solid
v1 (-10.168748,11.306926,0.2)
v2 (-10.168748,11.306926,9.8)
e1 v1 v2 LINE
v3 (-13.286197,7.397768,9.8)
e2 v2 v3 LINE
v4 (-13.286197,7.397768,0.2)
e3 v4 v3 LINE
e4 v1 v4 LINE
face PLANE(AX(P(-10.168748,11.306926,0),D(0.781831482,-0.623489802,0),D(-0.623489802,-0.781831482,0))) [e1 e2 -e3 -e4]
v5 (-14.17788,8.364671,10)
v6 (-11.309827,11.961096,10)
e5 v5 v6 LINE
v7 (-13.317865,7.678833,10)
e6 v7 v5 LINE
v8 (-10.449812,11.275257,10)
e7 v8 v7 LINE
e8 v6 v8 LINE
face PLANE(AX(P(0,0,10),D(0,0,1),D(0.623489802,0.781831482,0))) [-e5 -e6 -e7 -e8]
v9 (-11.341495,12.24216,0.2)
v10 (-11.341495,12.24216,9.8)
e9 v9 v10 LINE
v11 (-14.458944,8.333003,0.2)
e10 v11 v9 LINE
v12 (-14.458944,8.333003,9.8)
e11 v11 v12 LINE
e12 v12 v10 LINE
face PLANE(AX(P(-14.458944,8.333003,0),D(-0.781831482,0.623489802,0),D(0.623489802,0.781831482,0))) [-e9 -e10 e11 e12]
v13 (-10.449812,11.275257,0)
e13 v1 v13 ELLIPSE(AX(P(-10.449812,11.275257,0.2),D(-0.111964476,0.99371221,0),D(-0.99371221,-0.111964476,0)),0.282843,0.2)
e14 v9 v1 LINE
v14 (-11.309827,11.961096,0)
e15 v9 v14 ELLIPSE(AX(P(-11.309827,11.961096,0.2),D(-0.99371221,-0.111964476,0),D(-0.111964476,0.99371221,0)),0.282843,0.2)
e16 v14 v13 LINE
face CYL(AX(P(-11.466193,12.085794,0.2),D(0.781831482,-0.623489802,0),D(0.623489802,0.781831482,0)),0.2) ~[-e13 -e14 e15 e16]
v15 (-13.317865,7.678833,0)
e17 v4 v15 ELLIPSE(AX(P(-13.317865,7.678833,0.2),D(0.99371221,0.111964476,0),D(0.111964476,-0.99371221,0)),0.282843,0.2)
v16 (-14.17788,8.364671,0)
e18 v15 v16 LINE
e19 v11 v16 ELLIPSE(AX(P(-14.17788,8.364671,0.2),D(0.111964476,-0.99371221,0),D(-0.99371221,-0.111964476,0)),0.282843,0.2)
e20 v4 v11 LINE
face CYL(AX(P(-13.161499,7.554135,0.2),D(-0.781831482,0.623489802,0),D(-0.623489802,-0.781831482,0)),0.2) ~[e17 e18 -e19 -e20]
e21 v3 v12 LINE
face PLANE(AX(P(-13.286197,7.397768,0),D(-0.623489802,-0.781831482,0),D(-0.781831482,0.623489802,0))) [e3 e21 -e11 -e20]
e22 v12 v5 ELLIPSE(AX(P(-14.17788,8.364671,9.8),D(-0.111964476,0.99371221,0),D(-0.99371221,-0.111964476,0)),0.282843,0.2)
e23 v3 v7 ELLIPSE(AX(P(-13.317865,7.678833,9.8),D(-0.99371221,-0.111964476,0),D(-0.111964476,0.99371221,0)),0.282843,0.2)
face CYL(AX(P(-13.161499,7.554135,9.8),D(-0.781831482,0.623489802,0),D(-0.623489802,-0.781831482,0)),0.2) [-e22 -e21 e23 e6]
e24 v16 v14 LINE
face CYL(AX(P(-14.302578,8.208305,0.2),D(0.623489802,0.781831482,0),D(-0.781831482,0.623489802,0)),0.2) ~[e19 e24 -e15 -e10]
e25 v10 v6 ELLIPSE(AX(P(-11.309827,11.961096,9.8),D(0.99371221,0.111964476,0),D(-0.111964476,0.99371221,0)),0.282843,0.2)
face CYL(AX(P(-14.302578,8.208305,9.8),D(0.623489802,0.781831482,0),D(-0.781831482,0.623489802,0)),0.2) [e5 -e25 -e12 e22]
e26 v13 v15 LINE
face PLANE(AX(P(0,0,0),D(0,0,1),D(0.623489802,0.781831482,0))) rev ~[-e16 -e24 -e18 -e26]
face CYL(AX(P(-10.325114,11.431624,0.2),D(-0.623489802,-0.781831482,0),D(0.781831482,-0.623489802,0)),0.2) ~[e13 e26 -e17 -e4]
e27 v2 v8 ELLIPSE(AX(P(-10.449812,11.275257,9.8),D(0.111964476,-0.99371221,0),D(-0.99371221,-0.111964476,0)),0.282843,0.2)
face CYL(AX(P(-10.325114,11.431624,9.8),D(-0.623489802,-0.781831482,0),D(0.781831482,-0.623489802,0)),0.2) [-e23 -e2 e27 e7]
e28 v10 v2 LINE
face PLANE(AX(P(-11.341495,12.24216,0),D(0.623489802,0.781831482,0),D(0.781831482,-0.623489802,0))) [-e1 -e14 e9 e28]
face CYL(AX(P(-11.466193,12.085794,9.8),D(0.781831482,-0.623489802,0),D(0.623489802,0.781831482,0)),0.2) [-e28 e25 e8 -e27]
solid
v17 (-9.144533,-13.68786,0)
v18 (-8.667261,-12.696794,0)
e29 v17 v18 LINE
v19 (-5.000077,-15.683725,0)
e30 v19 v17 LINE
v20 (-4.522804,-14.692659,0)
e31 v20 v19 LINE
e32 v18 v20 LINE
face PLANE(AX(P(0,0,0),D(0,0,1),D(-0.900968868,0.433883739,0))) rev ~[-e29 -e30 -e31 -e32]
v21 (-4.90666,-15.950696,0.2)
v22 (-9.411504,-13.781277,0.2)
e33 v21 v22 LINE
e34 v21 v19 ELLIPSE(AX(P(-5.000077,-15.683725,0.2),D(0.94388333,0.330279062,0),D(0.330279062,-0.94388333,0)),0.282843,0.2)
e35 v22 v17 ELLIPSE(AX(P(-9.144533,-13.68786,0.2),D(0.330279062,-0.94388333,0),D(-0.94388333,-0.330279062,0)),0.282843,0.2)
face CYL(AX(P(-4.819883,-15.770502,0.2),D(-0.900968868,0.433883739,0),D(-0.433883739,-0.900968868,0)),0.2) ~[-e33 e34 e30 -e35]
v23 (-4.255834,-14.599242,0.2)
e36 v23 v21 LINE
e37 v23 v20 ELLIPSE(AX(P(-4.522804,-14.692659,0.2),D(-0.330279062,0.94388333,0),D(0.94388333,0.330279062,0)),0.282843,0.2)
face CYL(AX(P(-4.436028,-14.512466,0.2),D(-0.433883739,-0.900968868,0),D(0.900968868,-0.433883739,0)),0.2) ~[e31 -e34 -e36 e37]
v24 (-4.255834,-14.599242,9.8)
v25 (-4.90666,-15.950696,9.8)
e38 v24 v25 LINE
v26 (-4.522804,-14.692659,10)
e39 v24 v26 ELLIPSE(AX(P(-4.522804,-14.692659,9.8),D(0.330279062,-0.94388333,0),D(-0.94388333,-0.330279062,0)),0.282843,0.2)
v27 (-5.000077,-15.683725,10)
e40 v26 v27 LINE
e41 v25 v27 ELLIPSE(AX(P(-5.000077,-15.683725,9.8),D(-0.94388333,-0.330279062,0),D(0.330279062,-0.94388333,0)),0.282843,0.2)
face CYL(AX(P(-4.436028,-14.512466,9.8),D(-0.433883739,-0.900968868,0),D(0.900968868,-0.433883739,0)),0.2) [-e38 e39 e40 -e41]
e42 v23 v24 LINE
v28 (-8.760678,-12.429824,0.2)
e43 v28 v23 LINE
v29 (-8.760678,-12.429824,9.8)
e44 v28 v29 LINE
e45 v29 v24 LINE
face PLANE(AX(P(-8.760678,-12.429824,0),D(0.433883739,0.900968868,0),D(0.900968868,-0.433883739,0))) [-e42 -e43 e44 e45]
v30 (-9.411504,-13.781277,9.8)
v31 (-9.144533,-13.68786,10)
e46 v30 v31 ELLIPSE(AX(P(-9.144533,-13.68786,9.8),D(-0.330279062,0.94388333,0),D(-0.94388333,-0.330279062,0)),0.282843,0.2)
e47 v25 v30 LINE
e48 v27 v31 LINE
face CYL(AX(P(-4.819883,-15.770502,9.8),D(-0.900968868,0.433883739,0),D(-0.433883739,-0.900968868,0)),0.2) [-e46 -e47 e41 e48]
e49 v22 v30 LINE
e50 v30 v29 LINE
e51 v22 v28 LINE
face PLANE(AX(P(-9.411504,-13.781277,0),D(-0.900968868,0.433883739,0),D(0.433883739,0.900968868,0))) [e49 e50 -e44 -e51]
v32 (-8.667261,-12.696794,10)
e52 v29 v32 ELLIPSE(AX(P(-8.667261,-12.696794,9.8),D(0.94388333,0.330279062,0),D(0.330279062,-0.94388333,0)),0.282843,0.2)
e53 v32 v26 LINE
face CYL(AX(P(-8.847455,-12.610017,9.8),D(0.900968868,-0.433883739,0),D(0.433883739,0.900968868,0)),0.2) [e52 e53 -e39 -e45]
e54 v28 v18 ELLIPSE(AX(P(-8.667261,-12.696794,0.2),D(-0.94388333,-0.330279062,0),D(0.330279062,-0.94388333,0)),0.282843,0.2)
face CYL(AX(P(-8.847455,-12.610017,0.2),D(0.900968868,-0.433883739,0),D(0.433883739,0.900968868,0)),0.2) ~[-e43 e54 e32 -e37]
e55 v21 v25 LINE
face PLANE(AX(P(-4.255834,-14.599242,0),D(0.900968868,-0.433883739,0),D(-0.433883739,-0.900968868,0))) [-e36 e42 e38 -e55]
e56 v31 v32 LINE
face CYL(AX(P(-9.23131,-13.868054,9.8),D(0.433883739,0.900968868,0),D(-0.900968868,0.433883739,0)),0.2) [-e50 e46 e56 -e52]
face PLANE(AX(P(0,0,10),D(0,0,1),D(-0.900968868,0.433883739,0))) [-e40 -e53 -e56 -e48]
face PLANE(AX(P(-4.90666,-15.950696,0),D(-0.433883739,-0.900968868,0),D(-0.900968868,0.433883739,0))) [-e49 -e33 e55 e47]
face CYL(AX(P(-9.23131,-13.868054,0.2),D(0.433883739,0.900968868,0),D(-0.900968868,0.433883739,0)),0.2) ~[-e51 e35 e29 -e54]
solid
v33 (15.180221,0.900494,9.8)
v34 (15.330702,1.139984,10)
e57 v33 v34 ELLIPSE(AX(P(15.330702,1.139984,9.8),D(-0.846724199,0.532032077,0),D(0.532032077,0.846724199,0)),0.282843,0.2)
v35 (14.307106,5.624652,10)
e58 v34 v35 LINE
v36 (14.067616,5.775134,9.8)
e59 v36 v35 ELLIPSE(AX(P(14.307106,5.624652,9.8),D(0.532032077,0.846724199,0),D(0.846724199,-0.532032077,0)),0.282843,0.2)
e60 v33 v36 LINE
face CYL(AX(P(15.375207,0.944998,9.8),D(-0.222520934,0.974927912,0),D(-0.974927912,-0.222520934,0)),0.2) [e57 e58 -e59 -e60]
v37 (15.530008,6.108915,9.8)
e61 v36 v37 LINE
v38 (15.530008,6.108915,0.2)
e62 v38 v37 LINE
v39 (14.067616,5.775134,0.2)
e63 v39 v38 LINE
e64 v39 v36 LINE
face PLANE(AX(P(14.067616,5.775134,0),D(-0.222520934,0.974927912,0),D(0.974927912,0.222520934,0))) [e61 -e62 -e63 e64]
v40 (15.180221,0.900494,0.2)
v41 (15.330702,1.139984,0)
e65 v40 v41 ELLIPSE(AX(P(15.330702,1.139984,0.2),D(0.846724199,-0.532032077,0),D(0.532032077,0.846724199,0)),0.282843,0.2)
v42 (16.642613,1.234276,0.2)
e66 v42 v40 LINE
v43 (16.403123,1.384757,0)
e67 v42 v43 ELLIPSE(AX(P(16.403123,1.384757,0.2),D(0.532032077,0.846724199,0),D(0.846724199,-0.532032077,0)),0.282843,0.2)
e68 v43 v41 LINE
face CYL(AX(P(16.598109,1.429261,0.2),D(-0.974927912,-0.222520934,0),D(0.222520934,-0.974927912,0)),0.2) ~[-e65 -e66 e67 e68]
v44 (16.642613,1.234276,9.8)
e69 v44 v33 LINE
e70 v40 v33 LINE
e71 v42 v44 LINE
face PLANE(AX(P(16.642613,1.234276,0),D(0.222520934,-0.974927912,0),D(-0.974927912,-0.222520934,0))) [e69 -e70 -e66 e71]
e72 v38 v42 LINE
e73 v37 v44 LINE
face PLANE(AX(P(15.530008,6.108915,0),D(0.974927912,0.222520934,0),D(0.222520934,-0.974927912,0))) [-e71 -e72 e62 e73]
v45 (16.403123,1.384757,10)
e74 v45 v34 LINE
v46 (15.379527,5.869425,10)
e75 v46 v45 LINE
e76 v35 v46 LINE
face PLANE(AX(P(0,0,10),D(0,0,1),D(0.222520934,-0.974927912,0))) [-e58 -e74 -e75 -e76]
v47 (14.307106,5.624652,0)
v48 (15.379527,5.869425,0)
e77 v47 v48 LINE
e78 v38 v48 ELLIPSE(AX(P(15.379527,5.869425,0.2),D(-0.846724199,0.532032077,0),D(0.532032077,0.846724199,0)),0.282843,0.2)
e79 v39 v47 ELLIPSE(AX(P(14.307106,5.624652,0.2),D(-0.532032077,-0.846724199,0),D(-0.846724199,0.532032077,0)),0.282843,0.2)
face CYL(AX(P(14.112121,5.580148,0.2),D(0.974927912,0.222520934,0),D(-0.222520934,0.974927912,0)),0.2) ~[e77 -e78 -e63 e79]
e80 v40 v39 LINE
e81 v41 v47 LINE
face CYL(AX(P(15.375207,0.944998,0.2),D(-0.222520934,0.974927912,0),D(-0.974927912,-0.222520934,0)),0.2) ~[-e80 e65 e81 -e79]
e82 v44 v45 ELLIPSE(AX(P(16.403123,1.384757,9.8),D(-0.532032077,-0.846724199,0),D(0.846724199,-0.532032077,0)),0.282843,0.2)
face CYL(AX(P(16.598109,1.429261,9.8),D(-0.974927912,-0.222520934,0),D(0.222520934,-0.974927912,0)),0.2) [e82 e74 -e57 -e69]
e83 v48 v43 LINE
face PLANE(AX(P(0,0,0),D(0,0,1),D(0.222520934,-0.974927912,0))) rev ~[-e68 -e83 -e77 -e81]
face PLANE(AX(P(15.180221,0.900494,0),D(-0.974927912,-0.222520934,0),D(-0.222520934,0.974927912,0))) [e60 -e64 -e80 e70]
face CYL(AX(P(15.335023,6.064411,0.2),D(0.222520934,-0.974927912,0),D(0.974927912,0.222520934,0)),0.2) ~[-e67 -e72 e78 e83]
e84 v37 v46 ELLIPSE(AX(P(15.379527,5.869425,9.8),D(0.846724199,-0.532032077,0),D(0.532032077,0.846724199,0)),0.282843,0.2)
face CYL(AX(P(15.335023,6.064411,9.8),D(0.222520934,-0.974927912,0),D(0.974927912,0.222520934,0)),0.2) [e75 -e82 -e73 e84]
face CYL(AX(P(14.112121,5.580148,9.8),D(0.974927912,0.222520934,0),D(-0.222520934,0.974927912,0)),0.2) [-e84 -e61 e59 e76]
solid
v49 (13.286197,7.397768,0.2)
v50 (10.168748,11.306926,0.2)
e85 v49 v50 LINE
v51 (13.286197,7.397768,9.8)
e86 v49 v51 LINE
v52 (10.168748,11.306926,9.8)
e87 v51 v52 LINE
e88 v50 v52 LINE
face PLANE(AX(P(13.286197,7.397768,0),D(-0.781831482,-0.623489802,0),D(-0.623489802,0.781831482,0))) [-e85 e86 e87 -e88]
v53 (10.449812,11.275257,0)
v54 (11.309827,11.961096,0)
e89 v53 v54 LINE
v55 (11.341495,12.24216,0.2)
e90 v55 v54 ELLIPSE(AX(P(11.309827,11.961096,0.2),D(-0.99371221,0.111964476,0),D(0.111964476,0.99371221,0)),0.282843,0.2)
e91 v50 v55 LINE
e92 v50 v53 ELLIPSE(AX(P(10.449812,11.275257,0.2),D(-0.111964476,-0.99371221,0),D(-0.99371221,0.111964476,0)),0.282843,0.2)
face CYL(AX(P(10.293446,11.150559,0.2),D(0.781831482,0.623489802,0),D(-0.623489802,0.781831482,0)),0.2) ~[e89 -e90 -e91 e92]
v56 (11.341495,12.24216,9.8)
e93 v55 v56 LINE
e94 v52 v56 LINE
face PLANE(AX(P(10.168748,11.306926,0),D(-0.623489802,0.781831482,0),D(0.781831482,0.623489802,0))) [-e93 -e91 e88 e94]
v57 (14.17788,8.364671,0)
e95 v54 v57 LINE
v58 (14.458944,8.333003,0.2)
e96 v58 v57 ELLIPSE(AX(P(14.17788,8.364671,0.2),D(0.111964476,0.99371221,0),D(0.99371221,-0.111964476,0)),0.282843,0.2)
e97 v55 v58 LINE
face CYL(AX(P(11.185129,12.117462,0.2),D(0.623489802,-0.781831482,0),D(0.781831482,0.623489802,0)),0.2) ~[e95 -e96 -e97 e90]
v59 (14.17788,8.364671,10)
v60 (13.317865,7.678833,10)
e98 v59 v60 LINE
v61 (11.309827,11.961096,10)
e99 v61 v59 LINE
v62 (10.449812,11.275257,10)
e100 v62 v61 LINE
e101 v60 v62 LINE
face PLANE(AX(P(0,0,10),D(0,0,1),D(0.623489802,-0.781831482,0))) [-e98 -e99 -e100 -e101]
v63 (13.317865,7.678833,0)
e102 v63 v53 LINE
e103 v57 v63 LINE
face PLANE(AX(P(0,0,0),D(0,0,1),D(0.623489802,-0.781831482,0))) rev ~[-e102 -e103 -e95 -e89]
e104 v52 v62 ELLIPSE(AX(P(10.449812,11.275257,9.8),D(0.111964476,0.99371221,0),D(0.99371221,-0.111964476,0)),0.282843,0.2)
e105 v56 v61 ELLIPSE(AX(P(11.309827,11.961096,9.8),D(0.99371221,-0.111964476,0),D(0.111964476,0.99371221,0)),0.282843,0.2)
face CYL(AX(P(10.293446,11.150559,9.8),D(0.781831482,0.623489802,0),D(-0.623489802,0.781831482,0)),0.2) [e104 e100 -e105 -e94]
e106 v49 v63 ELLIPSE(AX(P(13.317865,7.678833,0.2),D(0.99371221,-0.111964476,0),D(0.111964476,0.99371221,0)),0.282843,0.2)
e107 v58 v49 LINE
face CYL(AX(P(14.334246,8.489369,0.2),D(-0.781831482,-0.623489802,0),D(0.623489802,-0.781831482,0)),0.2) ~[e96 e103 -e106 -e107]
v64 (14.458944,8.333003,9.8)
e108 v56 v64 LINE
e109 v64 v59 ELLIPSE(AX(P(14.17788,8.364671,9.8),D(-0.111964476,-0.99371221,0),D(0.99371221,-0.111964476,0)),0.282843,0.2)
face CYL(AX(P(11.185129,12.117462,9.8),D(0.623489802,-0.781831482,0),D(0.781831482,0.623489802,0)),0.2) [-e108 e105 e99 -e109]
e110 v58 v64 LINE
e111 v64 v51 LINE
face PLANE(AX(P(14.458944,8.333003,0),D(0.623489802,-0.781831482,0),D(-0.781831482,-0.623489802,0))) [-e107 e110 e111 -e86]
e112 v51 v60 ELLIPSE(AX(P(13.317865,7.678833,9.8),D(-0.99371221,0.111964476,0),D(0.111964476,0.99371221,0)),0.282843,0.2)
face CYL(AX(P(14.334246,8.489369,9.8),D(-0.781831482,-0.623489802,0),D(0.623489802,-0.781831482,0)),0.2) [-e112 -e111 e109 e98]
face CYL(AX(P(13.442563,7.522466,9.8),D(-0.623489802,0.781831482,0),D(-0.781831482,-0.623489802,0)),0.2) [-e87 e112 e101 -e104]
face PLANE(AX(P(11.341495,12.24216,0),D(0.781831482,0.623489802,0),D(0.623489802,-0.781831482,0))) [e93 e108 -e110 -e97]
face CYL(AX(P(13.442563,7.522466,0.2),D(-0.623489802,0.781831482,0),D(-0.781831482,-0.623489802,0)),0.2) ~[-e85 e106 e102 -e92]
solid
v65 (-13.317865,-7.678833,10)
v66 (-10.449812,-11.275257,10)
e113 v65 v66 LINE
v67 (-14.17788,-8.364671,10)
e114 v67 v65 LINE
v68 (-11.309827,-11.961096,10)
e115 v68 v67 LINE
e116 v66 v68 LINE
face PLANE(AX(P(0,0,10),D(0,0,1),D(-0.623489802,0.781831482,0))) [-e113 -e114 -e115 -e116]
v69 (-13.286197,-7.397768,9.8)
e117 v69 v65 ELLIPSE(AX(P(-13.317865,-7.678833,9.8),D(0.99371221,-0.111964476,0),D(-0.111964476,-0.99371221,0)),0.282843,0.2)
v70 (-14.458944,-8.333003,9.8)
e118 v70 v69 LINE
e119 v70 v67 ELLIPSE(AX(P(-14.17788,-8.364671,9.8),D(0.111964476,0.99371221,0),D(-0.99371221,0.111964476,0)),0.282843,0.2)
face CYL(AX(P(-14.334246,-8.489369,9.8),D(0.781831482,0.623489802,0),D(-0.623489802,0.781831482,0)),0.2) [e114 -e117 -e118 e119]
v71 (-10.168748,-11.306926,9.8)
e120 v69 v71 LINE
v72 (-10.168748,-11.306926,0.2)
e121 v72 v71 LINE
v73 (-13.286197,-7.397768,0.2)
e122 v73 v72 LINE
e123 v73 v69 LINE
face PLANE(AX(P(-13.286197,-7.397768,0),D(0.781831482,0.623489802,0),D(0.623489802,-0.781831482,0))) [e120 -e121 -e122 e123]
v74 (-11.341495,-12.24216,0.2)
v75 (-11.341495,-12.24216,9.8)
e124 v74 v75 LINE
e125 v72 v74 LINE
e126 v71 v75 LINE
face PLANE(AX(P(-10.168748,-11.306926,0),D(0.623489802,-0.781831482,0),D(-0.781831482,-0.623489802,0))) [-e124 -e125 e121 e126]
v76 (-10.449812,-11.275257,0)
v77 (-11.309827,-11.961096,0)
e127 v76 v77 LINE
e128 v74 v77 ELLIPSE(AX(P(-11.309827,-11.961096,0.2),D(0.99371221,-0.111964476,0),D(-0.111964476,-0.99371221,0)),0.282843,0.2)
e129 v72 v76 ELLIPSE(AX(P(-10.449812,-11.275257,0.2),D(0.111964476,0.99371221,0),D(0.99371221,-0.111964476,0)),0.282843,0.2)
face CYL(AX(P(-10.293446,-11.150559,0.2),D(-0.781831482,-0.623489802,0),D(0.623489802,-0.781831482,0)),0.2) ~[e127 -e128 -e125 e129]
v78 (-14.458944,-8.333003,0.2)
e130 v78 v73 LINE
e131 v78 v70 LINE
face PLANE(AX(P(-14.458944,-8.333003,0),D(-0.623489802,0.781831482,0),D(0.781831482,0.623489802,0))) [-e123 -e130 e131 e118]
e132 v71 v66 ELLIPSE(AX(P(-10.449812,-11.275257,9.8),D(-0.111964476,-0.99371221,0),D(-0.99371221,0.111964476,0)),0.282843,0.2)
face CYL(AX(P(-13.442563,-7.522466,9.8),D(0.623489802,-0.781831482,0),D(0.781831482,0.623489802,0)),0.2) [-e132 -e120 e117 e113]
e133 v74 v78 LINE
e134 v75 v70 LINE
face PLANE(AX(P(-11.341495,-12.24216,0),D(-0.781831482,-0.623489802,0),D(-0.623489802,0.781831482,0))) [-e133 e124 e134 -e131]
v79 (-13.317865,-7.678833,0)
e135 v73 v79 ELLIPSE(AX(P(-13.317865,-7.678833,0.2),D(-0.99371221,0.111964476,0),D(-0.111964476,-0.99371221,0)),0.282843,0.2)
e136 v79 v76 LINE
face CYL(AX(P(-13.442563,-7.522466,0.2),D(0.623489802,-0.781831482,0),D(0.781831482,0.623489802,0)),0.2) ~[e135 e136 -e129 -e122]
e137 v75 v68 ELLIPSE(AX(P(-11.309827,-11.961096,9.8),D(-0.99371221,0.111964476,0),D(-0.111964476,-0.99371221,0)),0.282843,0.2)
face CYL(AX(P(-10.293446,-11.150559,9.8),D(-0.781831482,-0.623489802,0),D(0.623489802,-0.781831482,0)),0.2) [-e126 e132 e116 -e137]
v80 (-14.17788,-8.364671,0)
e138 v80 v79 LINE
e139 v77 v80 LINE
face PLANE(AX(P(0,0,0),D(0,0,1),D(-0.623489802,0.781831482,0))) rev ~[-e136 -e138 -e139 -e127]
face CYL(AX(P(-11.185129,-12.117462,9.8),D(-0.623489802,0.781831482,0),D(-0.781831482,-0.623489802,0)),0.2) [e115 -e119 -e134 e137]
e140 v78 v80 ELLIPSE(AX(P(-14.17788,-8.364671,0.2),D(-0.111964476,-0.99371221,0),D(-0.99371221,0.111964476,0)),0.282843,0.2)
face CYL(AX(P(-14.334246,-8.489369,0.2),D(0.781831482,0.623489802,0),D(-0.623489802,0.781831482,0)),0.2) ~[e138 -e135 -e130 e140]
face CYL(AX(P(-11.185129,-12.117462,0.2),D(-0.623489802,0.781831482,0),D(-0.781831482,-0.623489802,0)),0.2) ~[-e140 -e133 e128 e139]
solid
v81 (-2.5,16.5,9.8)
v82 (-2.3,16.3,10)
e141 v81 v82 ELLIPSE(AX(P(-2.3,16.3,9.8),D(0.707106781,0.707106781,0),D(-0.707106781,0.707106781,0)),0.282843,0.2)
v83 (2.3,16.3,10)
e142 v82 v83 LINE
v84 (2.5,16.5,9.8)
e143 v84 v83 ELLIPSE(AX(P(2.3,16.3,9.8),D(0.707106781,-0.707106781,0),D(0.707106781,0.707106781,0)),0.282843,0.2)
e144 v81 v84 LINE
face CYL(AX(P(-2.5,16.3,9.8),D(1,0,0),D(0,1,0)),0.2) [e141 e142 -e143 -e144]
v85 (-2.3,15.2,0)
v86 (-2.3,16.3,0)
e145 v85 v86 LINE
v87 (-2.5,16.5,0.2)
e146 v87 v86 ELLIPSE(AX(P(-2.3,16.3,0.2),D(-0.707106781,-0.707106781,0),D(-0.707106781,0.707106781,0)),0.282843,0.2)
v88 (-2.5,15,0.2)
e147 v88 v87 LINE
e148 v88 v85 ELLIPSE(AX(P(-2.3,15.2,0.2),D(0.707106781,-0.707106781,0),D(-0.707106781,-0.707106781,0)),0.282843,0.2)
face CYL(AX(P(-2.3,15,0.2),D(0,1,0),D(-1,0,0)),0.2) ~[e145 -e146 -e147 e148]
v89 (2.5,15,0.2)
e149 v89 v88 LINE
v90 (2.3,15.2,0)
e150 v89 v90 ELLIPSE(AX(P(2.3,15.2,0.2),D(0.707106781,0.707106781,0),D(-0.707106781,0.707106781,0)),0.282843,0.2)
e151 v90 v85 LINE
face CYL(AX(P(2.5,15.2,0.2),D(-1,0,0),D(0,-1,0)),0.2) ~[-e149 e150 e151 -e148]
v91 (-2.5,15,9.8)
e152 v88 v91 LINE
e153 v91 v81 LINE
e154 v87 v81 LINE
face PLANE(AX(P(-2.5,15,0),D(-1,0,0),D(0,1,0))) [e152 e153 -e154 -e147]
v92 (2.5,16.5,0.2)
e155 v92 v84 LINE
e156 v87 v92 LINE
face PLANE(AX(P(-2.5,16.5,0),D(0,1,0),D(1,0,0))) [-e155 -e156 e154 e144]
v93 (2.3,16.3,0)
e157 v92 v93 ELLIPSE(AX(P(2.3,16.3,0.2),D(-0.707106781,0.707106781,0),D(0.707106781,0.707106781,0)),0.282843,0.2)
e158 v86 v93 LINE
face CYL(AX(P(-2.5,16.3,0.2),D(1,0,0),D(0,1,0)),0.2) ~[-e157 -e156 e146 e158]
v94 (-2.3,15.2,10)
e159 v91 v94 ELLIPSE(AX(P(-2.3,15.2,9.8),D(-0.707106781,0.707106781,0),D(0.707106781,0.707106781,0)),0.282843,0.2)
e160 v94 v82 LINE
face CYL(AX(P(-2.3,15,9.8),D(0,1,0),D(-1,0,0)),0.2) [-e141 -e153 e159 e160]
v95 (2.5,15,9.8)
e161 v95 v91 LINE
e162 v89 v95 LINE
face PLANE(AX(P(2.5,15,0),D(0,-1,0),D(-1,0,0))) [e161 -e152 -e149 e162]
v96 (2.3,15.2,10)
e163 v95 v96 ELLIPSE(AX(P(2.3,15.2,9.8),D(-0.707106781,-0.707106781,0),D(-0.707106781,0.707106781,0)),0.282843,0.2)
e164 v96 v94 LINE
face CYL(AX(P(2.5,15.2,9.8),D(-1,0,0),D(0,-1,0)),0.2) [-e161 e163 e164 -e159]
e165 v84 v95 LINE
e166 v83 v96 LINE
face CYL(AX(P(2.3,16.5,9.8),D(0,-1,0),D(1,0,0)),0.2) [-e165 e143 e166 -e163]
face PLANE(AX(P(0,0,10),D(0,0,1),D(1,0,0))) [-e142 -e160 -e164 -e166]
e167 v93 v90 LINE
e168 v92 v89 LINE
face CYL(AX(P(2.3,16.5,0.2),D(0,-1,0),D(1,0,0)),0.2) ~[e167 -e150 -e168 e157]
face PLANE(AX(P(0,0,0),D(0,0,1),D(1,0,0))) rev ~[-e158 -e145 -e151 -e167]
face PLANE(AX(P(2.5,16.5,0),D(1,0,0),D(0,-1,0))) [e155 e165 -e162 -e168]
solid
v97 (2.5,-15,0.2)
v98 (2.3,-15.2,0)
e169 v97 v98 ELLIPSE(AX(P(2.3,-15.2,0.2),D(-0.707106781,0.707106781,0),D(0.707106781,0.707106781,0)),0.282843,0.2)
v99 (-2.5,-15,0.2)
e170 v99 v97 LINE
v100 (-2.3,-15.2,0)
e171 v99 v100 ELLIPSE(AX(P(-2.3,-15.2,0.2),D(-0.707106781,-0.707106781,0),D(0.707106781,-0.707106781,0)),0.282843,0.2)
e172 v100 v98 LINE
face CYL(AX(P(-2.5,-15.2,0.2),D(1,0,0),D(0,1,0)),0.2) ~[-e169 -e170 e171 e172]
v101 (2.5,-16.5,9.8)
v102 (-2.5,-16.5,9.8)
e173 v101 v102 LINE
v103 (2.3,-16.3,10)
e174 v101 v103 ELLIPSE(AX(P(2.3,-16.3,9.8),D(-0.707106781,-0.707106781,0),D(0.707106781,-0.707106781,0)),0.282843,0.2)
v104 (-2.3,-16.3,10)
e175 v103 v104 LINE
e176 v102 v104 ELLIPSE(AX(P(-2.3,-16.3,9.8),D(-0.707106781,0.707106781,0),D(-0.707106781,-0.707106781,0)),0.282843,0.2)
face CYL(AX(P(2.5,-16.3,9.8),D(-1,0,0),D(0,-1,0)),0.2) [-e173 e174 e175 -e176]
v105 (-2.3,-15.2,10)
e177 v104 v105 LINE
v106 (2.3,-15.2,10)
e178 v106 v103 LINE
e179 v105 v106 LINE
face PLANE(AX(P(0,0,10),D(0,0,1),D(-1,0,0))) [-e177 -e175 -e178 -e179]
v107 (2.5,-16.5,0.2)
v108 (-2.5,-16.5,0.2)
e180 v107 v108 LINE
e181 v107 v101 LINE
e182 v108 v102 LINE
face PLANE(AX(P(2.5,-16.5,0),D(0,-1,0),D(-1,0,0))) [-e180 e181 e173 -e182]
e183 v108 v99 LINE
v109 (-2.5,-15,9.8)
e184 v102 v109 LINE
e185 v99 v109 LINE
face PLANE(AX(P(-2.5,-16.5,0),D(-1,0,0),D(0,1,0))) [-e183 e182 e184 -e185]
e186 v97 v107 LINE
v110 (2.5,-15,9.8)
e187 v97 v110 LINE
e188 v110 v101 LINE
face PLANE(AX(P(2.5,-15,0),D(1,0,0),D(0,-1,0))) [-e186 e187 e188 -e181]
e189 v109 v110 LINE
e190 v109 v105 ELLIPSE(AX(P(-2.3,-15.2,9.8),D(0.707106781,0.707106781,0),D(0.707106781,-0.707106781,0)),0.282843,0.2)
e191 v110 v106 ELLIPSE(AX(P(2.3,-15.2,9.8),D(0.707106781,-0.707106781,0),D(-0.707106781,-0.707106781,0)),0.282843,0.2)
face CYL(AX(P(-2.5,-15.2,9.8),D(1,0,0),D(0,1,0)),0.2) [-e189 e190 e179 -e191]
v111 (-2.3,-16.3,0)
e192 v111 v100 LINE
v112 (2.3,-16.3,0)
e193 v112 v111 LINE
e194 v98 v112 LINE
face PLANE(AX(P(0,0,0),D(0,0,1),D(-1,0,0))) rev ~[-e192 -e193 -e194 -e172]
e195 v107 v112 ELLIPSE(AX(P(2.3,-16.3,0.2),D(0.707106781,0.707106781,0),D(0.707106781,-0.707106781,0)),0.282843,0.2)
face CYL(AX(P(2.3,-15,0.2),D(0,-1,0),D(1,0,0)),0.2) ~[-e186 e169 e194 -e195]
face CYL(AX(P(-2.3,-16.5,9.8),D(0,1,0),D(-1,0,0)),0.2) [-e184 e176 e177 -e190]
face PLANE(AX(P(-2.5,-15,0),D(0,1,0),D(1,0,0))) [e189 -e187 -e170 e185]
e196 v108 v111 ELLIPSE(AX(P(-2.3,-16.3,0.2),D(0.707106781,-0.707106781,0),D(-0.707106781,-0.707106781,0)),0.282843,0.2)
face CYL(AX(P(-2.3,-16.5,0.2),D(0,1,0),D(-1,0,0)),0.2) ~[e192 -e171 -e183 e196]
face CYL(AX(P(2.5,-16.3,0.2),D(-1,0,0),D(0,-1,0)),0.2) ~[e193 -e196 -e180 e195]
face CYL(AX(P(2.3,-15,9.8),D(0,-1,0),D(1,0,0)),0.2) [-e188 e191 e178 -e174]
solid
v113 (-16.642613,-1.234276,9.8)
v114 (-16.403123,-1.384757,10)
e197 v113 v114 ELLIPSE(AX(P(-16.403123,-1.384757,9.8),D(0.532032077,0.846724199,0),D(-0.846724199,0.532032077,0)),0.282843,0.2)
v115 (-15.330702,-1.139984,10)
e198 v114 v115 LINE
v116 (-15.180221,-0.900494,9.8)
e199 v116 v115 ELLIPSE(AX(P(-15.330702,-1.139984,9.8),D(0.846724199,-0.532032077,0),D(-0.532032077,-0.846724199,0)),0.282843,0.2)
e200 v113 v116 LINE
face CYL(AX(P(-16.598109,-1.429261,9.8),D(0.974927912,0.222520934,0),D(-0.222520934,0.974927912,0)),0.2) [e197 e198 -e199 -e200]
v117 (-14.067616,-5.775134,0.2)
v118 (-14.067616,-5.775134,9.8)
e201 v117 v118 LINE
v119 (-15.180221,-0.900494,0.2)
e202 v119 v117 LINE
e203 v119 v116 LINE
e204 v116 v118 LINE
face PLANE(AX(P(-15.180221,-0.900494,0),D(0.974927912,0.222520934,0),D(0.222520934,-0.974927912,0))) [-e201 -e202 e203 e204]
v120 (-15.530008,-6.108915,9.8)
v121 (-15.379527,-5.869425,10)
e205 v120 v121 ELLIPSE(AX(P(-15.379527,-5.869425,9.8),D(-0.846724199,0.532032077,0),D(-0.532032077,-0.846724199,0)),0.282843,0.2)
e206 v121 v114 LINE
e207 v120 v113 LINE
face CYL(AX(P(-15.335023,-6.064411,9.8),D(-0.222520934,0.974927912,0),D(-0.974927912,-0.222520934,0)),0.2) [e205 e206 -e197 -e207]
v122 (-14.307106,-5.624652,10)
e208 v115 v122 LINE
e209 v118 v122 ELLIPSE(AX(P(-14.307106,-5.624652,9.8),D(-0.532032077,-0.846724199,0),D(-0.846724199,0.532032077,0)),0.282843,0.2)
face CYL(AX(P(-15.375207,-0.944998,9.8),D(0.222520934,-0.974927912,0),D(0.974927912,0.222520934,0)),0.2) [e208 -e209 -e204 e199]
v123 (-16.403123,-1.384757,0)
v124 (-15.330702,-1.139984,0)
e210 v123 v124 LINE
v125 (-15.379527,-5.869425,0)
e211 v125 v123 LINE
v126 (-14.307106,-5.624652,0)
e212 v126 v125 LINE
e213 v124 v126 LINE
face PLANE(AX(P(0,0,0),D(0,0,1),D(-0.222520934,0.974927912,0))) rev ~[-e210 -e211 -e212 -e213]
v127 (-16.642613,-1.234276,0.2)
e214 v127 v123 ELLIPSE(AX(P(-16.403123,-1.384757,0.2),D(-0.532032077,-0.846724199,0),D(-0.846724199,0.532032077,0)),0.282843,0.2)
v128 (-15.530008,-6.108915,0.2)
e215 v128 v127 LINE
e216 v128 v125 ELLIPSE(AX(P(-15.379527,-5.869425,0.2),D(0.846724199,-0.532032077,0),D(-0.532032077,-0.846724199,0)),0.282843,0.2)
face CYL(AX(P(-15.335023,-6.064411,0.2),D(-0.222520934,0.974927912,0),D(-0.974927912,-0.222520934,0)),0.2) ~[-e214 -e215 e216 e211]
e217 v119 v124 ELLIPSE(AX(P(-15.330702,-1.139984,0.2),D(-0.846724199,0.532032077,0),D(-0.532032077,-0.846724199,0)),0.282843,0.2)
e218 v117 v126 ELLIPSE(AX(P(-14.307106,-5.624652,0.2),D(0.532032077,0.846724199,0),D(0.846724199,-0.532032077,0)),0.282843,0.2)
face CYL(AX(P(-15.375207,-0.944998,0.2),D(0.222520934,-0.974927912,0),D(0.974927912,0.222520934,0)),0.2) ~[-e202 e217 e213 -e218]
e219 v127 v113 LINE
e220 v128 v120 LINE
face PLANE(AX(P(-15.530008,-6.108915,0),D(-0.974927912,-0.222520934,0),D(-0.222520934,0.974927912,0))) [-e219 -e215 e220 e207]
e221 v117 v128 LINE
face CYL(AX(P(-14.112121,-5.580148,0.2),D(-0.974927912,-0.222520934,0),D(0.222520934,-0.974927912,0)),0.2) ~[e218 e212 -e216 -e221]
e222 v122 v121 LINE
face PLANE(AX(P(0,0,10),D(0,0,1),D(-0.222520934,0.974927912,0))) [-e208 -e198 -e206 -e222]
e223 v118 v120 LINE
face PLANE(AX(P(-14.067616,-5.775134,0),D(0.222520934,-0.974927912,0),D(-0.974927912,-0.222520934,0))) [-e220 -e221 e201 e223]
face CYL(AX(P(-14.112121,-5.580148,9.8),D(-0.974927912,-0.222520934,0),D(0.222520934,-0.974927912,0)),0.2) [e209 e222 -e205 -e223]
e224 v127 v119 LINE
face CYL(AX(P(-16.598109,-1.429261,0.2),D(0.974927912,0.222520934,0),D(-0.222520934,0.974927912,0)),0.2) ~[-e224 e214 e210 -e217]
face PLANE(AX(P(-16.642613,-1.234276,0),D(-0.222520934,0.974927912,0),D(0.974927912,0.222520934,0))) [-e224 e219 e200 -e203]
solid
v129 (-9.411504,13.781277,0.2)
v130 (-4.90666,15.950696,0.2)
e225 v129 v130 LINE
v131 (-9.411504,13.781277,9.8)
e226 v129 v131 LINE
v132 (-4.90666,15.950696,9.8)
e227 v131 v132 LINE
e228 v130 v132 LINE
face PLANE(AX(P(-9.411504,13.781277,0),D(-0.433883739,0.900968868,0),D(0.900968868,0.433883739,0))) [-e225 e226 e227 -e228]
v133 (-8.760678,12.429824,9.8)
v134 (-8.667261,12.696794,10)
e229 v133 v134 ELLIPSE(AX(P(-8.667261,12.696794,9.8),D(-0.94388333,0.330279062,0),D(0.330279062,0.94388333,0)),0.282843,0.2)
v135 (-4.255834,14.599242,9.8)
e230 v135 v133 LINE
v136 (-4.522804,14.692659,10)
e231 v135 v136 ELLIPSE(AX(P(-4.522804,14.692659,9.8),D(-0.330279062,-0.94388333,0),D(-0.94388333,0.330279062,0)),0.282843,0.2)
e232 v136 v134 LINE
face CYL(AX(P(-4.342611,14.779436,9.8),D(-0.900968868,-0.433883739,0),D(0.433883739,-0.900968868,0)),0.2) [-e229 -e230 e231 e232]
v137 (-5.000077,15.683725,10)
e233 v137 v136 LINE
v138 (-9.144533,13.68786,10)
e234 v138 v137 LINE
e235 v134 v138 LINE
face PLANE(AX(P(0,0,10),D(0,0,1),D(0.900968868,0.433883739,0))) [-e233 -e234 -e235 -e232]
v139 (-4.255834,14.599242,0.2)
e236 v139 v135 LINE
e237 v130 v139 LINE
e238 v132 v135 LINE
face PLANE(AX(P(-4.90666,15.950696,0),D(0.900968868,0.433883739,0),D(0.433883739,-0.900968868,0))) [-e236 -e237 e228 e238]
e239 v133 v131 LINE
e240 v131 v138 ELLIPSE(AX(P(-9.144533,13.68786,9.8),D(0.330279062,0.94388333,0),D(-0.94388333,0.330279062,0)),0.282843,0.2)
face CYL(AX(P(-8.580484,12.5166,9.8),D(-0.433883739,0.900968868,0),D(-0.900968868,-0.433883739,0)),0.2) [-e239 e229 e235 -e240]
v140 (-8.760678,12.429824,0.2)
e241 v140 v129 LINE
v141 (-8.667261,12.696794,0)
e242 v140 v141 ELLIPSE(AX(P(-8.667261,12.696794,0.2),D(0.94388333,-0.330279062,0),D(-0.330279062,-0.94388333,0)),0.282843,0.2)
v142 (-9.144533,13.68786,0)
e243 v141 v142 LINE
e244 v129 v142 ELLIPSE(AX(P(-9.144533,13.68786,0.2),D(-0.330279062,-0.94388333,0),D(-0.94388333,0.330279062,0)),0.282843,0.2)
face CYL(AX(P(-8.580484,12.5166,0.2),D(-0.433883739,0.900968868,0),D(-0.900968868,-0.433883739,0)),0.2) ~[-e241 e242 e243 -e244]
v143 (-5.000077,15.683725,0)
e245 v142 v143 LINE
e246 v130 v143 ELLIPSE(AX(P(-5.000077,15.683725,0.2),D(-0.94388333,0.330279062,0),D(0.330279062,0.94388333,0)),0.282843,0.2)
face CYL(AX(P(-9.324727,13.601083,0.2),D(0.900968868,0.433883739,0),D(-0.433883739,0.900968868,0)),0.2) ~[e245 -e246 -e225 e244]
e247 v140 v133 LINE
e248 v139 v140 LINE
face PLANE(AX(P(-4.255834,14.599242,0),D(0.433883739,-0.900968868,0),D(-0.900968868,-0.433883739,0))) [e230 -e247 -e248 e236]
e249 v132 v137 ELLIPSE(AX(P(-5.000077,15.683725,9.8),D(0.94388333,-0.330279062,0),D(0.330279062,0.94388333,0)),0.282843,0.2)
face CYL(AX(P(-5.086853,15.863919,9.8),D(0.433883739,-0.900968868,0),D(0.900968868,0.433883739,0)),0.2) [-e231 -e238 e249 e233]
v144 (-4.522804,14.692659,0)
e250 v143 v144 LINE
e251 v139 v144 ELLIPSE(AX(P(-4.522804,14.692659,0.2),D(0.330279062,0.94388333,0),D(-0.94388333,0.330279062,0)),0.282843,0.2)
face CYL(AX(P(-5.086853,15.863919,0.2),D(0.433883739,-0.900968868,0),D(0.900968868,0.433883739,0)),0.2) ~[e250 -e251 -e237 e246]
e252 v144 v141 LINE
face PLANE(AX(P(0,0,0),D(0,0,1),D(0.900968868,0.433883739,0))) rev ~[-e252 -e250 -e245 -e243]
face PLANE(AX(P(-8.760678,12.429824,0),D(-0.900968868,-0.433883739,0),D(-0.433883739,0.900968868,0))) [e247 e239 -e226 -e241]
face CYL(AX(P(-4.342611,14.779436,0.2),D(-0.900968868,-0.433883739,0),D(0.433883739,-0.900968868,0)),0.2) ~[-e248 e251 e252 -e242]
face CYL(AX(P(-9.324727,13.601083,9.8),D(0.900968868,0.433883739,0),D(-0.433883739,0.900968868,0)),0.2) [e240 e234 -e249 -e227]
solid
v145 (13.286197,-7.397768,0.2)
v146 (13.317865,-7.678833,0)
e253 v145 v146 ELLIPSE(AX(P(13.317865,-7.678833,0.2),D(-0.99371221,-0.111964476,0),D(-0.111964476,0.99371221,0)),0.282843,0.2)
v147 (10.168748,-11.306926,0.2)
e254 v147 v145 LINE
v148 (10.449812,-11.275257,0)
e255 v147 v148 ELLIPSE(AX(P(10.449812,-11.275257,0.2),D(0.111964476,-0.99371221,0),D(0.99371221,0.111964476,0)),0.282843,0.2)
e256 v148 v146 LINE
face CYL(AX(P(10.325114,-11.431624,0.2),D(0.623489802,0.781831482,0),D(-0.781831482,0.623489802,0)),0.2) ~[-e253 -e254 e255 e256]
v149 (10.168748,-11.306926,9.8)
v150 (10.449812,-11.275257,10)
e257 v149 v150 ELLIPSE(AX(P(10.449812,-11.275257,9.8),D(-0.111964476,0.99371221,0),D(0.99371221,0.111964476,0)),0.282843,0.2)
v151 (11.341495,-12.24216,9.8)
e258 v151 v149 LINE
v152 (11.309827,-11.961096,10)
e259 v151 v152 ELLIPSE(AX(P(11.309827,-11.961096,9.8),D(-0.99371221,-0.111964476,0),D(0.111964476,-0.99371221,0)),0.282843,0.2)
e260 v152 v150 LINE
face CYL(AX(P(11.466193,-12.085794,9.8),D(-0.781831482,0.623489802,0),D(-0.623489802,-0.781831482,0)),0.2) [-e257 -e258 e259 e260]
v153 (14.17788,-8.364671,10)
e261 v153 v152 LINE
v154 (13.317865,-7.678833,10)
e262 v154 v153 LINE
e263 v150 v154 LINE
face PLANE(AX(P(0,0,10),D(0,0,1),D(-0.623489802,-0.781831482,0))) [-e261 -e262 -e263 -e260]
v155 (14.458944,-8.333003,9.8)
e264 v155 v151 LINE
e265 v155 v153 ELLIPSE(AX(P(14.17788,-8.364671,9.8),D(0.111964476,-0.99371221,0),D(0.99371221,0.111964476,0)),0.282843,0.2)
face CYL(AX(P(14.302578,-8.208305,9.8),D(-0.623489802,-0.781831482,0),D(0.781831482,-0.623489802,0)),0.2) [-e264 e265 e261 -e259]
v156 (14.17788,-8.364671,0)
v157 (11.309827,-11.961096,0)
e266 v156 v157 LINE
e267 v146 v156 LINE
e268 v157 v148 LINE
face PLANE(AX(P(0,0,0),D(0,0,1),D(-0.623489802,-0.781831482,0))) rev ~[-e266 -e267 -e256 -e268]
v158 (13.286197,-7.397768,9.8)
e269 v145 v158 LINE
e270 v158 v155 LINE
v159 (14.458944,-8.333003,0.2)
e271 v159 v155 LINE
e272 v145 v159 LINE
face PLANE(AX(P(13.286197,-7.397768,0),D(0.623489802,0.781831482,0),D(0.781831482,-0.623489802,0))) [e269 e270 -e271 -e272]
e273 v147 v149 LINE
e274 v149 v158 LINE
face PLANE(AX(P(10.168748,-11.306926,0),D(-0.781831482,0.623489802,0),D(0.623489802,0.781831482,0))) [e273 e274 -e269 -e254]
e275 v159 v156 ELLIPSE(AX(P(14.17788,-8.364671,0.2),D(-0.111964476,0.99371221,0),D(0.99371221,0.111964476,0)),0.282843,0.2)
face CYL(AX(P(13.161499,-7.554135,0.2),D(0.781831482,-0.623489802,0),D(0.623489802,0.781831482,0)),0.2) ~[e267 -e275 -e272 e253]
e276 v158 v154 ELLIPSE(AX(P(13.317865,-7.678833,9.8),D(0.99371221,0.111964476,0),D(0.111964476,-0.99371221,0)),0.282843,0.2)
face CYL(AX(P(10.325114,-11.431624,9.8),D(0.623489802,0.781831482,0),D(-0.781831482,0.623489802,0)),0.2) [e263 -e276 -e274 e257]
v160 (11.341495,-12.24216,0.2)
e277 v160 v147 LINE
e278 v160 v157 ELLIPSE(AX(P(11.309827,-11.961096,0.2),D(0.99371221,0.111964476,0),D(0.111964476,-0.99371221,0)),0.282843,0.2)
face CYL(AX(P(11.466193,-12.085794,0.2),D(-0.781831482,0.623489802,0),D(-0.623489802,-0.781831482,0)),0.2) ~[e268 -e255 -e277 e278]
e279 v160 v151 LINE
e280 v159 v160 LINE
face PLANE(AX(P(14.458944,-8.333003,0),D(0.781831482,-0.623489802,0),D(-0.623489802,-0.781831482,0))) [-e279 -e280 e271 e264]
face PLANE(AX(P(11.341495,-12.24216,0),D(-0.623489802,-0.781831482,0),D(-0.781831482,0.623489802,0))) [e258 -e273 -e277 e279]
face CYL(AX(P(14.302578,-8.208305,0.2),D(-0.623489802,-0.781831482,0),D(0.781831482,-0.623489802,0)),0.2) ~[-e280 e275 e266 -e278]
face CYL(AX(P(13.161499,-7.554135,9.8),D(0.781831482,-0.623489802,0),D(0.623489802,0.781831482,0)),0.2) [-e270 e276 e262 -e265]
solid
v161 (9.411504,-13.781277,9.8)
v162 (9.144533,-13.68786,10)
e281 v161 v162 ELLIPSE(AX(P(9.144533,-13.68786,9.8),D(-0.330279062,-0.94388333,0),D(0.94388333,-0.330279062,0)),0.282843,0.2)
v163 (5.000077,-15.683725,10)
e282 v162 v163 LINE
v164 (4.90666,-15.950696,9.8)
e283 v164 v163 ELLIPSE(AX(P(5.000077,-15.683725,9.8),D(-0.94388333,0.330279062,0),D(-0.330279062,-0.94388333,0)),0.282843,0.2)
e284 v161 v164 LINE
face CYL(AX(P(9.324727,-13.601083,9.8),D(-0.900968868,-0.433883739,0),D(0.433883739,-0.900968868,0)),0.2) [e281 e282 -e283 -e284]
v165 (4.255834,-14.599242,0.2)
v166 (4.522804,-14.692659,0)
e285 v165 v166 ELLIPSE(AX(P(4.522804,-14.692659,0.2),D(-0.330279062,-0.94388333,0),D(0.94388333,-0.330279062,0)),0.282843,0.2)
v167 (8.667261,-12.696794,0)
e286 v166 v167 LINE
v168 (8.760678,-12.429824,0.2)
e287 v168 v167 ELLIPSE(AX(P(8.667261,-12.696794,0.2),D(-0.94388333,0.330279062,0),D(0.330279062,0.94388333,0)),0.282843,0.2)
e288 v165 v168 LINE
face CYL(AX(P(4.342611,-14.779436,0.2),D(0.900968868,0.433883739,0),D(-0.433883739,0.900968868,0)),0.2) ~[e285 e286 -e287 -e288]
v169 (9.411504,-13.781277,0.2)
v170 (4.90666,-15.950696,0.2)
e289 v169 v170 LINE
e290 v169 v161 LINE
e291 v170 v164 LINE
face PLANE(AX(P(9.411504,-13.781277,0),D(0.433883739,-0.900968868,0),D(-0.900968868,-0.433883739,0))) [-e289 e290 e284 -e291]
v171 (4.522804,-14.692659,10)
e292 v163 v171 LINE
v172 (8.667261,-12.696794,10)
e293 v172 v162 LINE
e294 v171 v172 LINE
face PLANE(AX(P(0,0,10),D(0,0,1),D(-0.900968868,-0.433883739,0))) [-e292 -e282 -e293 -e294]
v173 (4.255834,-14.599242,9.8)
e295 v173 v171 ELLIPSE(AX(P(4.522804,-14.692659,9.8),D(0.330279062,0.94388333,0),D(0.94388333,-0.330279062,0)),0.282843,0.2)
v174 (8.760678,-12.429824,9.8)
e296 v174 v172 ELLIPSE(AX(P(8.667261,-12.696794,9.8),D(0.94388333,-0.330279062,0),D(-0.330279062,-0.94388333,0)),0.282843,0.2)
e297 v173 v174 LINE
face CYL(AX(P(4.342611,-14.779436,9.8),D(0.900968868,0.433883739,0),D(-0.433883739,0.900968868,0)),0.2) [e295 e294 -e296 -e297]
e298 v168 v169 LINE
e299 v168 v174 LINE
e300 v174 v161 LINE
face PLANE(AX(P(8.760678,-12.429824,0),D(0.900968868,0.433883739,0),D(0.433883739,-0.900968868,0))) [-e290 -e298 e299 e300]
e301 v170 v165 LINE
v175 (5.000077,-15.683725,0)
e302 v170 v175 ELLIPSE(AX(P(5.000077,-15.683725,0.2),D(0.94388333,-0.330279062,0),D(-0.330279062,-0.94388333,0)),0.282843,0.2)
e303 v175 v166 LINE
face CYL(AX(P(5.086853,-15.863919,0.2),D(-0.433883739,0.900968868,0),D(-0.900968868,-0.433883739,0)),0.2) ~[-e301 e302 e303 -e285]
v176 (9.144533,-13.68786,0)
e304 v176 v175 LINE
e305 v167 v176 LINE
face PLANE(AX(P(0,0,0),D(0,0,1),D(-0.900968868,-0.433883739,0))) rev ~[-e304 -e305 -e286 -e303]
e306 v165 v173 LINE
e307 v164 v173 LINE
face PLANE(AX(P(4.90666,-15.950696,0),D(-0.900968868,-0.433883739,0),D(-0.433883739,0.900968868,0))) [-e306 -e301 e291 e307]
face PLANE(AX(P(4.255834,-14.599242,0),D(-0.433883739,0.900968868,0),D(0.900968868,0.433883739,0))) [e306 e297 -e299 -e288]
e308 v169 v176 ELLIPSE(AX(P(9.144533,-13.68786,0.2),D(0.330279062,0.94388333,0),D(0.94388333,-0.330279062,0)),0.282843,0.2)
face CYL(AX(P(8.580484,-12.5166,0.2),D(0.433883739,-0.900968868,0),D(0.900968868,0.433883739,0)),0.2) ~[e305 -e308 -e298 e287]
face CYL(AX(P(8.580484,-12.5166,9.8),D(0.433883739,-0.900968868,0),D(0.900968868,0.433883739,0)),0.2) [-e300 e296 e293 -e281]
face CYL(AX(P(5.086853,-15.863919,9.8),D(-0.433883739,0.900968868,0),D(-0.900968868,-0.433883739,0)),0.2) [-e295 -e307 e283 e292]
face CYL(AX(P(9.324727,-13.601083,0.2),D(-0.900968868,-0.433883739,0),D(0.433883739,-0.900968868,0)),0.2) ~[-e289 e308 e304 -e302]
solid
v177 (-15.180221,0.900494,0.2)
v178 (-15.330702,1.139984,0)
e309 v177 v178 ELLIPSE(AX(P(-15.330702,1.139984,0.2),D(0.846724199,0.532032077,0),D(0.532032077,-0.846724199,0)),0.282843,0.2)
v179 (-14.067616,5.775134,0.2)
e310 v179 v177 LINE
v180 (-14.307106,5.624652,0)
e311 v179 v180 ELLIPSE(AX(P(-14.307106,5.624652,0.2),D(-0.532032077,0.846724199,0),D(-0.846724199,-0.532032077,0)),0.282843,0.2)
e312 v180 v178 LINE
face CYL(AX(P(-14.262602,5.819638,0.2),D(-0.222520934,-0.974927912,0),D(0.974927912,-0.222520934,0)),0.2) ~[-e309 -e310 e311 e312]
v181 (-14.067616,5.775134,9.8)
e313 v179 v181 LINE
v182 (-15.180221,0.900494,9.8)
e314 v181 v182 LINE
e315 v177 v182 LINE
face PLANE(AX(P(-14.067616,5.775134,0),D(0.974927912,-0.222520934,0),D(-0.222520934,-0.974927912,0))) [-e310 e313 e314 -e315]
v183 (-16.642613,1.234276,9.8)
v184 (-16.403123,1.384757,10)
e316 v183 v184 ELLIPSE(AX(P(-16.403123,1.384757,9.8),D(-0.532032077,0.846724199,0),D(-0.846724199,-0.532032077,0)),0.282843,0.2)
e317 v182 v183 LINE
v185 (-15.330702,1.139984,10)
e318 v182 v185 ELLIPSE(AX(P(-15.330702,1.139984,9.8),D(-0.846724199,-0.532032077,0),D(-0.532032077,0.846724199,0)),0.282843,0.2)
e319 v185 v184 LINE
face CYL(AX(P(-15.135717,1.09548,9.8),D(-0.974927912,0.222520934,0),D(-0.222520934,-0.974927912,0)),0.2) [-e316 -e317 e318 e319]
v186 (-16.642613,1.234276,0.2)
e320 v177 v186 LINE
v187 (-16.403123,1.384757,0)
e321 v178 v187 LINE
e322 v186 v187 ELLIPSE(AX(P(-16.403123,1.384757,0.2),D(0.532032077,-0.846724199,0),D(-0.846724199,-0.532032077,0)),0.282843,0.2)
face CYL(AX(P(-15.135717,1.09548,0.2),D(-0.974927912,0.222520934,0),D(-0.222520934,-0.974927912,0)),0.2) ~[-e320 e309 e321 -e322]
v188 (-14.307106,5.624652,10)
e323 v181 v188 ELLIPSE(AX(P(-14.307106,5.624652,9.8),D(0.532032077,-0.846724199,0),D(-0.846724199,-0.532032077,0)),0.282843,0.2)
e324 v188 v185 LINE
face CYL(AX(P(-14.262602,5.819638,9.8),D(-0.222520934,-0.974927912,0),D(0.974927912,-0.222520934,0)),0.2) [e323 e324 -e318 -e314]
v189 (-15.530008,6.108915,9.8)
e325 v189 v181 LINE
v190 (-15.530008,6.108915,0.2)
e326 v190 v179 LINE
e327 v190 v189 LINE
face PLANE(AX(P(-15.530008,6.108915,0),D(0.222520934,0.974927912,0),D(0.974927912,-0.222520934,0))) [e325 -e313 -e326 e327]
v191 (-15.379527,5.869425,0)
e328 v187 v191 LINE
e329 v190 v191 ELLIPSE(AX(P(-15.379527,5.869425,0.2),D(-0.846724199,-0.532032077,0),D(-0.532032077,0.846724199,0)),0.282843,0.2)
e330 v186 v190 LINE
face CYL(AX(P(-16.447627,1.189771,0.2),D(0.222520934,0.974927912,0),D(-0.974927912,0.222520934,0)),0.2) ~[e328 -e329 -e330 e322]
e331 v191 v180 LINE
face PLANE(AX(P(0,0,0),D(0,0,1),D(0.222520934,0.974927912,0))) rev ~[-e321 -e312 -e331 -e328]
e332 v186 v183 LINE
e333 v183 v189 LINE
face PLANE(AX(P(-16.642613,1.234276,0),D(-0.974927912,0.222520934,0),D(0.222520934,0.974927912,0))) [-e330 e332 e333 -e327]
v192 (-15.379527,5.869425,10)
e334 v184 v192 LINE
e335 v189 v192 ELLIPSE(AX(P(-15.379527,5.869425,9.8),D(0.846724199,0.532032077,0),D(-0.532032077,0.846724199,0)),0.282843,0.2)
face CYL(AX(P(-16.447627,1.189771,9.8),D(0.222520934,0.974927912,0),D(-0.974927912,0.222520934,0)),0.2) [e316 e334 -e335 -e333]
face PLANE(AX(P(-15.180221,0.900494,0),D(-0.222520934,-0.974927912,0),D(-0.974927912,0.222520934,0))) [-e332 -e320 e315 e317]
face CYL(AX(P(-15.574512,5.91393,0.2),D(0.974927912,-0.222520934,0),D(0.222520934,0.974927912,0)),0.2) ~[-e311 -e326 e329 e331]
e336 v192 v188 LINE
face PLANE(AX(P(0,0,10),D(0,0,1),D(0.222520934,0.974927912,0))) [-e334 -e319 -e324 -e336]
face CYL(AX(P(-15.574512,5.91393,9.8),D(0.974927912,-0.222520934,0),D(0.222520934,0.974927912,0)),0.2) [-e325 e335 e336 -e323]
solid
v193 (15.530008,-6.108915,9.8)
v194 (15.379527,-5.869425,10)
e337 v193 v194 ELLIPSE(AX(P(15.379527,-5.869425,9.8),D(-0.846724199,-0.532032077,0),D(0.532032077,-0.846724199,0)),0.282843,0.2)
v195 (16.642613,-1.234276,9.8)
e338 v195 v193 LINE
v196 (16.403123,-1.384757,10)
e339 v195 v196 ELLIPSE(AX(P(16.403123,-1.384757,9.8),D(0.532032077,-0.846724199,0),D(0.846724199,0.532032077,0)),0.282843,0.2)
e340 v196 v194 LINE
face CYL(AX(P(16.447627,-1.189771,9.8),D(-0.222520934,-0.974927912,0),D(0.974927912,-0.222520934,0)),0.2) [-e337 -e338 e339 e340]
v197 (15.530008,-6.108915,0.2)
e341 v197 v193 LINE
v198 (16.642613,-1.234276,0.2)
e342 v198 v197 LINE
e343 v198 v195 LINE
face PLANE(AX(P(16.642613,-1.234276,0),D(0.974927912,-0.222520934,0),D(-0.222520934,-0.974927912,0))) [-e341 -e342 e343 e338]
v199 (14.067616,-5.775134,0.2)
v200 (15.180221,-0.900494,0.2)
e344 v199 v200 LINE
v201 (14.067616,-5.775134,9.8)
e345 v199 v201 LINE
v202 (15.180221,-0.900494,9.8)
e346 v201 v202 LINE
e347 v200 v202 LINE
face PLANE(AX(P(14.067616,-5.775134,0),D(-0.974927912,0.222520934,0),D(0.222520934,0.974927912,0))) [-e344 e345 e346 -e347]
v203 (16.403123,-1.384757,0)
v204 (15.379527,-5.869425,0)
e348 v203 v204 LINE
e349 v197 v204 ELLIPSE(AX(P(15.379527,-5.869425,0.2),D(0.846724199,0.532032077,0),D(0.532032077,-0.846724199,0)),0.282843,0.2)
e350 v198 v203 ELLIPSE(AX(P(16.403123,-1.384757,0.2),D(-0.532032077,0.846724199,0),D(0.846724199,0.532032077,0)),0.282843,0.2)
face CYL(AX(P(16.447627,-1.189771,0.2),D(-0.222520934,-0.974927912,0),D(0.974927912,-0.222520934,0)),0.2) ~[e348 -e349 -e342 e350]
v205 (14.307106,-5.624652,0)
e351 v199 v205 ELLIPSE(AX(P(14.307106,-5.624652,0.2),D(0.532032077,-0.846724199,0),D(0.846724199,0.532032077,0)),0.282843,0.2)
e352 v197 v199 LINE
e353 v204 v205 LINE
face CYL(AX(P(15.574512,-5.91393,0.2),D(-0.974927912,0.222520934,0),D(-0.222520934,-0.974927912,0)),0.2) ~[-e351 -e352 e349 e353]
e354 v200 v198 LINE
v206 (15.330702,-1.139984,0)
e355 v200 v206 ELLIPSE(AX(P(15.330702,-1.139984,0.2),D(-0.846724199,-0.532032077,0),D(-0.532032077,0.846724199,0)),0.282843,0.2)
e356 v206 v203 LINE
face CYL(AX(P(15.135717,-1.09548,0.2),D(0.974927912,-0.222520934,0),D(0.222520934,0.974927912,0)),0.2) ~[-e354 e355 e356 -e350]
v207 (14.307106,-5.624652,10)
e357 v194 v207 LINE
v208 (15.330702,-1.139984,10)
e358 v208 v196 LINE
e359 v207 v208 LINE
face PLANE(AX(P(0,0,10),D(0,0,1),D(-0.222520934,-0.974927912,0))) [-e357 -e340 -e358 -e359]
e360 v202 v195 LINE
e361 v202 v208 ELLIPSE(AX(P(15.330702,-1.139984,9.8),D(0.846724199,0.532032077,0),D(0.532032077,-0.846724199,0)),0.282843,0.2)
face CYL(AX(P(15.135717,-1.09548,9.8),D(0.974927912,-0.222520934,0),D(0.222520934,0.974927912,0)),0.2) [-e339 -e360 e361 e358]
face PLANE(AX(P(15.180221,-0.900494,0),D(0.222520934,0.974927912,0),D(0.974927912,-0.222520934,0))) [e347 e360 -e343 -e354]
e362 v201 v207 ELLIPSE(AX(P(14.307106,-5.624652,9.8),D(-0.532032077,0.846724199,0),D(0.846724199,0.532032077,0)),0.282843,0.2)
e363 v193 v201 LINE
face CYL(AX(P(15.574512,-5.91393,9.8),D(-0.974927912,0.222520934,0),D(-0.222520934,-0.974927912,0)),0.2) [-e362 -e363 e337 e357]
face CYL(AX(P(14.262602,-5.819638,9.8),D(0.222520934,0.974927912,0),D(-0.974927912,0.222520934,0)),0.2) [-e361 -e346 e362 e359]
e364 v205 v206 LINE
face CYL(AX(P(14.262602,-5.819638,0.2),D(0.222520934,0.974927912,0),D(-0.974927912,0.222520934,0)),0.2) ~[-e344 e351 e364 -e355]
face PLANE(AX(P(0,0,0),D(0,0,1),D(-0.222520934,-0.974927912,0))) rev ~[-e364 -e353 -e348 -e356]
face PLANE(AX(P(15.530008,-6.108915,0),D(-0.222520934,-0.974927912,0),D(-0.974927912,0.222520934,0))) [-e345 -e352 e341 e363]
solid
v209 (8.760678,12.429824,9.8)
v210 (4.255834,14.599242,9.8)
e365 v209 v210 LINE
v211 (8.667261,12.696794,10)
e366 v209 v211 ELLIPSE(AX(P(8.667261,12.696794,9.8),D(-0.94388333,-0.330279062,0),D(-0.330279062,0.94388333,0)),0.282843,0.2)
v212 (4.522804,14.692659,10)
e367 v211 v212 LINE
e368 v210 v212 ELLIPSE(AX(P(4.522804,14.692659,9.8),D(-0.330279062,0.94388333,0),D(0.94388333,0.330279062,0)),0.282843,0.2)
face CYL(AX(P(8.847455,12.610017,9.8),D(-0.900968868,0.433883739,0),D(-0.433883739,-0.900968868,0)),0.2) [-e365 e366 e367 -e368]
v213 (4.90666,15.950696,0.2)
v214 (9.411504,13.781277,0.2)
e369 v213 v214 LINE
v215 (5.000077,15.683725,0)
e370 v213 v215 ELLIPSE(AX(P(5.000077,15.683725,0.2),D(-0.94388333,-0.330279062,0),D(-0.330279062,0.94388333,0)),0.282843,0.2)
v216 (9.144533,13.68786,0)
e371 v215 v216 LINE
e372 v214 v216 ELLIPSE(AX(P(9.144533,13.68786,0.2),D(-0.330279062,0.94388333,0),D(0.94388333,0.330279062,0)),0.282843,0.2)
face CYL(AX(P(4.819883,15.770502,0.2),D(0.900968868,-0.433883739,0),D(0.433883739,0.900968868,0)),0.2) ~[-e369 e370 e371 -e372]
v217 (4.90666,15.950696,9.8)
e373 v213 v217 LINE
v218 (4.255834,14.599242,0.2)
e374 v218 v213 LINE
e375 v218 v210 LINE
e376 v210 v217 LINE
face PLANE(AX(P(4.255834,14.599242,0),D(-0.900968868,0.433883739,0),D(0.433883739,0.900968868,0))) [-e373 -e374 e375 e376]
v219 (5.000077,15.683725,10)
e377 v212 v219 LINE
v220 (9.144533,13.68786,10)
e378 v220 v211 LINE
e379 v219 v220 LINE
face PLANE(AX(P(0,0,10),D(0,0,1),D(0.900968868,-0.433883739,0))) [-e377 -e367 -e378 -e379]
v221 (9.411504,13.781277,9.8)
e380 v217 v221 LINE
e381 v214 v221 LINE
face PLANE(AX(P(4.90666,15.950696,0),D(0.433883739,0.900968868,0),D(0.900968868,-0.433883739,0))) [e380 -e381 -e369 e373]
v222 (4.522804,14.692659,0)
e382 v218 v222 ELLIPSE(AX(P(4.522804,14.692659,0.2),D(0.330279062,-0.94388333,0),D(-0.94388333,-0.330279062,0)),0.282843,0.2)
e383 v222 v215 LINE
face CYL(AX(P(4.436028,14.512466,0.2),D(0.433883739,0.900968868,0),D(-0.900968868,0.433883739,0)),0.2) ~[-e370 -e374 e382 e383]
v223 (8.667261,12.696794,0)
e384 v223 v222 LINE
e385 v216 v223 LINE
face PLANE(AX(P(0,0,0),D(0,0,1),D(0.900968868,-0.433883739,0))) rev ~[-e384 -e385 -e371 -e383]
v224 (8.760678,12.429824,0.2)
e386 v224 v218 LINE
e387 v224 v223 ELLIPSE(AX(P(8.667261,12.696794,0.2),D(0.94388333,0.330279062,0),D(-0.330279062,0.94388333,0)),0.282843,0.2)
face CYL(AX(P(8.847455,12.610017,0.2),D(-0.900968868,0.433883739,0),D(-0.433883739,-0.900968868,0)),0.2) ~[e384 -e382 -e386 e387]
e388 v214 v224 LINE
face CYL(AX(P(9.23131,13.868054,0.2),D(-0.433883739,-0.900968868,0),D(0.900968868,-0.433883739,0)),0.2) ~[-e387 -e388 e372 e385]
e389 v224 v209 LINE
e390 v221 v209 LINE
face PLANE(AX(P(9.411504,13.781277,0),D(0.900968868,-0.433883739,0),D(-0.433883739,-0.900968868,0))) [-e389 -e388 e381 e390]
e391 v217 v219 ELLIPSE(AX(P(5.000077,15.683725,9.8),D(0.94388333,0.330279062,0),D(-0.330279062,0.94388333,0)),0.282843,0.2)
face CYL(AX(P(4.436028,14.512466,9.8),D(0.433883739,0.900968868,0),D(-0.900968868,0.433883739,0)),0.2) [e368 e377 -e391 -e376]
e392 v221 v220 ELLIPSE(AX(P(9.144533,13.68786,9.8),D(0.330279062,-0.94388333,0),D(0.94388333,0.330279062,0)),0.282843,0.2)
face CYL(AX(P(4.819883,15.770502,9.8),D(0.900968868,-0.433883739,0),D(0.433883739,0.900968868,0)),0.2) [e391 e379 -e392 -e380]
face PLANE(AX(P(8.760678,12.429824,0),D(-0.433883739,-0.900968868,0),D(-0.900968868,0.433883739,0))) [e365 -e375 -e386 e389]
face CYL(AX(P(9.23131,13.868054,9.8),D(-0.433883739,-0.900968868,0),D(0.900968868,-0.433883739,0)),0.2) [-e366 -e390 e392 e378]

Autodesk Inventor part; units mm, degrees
ref_plane "YZ Plane" through (0, 0, 0) normal (1, 0, 0) x (0, 1, 0)
ref_plane "XZ Plane" through (0, 0, 0) normal (0, 1, 0) x (-1, 0, 0)
ref_plane "XY Plane" through (0, 0, 0) normal (0, 0, 1) x (1, 0, 0)
sketch "Sketch1" plane through (0, 0, 0) normal (0, 0, 1) x (1, 0, 0)
  line L0 (-2.5, 16.5) -> (2.5, 16.5)
  line L1 (2.5, 16.5) -> (2.5, 15)
  line L2 (2.5, 15) -> (-2.5, 15)
  line L3 (-2.5, 15) -> (-2.5, 16.5)
  point P0 (0, 0)
  dimension "d0" = 5
  dimension "d1" = 2.5
  dimension "d2" = 1.5
  dimension "d3" = 15
extrude "Extrusion1" add sketch "Sketch1" along normal blind 10
fillet "Fillet1" radius 0.2 8 edges at (-2.5, 15.75, 10) (0, 16.5, 10) (0, 15, 10) (2.5, 15.75, 10) (0, 15, 0) (-2.5, 15.75, 0) (0, 16.5, 0) (2.5, 15.75, 0)
pattern_circular "Circular Pattern1" count 14 over 360 about axis through (0, 0, -10) along (0, 0, 1) of "Extrusion1", "Fillet1"
properties part number "magnets"
